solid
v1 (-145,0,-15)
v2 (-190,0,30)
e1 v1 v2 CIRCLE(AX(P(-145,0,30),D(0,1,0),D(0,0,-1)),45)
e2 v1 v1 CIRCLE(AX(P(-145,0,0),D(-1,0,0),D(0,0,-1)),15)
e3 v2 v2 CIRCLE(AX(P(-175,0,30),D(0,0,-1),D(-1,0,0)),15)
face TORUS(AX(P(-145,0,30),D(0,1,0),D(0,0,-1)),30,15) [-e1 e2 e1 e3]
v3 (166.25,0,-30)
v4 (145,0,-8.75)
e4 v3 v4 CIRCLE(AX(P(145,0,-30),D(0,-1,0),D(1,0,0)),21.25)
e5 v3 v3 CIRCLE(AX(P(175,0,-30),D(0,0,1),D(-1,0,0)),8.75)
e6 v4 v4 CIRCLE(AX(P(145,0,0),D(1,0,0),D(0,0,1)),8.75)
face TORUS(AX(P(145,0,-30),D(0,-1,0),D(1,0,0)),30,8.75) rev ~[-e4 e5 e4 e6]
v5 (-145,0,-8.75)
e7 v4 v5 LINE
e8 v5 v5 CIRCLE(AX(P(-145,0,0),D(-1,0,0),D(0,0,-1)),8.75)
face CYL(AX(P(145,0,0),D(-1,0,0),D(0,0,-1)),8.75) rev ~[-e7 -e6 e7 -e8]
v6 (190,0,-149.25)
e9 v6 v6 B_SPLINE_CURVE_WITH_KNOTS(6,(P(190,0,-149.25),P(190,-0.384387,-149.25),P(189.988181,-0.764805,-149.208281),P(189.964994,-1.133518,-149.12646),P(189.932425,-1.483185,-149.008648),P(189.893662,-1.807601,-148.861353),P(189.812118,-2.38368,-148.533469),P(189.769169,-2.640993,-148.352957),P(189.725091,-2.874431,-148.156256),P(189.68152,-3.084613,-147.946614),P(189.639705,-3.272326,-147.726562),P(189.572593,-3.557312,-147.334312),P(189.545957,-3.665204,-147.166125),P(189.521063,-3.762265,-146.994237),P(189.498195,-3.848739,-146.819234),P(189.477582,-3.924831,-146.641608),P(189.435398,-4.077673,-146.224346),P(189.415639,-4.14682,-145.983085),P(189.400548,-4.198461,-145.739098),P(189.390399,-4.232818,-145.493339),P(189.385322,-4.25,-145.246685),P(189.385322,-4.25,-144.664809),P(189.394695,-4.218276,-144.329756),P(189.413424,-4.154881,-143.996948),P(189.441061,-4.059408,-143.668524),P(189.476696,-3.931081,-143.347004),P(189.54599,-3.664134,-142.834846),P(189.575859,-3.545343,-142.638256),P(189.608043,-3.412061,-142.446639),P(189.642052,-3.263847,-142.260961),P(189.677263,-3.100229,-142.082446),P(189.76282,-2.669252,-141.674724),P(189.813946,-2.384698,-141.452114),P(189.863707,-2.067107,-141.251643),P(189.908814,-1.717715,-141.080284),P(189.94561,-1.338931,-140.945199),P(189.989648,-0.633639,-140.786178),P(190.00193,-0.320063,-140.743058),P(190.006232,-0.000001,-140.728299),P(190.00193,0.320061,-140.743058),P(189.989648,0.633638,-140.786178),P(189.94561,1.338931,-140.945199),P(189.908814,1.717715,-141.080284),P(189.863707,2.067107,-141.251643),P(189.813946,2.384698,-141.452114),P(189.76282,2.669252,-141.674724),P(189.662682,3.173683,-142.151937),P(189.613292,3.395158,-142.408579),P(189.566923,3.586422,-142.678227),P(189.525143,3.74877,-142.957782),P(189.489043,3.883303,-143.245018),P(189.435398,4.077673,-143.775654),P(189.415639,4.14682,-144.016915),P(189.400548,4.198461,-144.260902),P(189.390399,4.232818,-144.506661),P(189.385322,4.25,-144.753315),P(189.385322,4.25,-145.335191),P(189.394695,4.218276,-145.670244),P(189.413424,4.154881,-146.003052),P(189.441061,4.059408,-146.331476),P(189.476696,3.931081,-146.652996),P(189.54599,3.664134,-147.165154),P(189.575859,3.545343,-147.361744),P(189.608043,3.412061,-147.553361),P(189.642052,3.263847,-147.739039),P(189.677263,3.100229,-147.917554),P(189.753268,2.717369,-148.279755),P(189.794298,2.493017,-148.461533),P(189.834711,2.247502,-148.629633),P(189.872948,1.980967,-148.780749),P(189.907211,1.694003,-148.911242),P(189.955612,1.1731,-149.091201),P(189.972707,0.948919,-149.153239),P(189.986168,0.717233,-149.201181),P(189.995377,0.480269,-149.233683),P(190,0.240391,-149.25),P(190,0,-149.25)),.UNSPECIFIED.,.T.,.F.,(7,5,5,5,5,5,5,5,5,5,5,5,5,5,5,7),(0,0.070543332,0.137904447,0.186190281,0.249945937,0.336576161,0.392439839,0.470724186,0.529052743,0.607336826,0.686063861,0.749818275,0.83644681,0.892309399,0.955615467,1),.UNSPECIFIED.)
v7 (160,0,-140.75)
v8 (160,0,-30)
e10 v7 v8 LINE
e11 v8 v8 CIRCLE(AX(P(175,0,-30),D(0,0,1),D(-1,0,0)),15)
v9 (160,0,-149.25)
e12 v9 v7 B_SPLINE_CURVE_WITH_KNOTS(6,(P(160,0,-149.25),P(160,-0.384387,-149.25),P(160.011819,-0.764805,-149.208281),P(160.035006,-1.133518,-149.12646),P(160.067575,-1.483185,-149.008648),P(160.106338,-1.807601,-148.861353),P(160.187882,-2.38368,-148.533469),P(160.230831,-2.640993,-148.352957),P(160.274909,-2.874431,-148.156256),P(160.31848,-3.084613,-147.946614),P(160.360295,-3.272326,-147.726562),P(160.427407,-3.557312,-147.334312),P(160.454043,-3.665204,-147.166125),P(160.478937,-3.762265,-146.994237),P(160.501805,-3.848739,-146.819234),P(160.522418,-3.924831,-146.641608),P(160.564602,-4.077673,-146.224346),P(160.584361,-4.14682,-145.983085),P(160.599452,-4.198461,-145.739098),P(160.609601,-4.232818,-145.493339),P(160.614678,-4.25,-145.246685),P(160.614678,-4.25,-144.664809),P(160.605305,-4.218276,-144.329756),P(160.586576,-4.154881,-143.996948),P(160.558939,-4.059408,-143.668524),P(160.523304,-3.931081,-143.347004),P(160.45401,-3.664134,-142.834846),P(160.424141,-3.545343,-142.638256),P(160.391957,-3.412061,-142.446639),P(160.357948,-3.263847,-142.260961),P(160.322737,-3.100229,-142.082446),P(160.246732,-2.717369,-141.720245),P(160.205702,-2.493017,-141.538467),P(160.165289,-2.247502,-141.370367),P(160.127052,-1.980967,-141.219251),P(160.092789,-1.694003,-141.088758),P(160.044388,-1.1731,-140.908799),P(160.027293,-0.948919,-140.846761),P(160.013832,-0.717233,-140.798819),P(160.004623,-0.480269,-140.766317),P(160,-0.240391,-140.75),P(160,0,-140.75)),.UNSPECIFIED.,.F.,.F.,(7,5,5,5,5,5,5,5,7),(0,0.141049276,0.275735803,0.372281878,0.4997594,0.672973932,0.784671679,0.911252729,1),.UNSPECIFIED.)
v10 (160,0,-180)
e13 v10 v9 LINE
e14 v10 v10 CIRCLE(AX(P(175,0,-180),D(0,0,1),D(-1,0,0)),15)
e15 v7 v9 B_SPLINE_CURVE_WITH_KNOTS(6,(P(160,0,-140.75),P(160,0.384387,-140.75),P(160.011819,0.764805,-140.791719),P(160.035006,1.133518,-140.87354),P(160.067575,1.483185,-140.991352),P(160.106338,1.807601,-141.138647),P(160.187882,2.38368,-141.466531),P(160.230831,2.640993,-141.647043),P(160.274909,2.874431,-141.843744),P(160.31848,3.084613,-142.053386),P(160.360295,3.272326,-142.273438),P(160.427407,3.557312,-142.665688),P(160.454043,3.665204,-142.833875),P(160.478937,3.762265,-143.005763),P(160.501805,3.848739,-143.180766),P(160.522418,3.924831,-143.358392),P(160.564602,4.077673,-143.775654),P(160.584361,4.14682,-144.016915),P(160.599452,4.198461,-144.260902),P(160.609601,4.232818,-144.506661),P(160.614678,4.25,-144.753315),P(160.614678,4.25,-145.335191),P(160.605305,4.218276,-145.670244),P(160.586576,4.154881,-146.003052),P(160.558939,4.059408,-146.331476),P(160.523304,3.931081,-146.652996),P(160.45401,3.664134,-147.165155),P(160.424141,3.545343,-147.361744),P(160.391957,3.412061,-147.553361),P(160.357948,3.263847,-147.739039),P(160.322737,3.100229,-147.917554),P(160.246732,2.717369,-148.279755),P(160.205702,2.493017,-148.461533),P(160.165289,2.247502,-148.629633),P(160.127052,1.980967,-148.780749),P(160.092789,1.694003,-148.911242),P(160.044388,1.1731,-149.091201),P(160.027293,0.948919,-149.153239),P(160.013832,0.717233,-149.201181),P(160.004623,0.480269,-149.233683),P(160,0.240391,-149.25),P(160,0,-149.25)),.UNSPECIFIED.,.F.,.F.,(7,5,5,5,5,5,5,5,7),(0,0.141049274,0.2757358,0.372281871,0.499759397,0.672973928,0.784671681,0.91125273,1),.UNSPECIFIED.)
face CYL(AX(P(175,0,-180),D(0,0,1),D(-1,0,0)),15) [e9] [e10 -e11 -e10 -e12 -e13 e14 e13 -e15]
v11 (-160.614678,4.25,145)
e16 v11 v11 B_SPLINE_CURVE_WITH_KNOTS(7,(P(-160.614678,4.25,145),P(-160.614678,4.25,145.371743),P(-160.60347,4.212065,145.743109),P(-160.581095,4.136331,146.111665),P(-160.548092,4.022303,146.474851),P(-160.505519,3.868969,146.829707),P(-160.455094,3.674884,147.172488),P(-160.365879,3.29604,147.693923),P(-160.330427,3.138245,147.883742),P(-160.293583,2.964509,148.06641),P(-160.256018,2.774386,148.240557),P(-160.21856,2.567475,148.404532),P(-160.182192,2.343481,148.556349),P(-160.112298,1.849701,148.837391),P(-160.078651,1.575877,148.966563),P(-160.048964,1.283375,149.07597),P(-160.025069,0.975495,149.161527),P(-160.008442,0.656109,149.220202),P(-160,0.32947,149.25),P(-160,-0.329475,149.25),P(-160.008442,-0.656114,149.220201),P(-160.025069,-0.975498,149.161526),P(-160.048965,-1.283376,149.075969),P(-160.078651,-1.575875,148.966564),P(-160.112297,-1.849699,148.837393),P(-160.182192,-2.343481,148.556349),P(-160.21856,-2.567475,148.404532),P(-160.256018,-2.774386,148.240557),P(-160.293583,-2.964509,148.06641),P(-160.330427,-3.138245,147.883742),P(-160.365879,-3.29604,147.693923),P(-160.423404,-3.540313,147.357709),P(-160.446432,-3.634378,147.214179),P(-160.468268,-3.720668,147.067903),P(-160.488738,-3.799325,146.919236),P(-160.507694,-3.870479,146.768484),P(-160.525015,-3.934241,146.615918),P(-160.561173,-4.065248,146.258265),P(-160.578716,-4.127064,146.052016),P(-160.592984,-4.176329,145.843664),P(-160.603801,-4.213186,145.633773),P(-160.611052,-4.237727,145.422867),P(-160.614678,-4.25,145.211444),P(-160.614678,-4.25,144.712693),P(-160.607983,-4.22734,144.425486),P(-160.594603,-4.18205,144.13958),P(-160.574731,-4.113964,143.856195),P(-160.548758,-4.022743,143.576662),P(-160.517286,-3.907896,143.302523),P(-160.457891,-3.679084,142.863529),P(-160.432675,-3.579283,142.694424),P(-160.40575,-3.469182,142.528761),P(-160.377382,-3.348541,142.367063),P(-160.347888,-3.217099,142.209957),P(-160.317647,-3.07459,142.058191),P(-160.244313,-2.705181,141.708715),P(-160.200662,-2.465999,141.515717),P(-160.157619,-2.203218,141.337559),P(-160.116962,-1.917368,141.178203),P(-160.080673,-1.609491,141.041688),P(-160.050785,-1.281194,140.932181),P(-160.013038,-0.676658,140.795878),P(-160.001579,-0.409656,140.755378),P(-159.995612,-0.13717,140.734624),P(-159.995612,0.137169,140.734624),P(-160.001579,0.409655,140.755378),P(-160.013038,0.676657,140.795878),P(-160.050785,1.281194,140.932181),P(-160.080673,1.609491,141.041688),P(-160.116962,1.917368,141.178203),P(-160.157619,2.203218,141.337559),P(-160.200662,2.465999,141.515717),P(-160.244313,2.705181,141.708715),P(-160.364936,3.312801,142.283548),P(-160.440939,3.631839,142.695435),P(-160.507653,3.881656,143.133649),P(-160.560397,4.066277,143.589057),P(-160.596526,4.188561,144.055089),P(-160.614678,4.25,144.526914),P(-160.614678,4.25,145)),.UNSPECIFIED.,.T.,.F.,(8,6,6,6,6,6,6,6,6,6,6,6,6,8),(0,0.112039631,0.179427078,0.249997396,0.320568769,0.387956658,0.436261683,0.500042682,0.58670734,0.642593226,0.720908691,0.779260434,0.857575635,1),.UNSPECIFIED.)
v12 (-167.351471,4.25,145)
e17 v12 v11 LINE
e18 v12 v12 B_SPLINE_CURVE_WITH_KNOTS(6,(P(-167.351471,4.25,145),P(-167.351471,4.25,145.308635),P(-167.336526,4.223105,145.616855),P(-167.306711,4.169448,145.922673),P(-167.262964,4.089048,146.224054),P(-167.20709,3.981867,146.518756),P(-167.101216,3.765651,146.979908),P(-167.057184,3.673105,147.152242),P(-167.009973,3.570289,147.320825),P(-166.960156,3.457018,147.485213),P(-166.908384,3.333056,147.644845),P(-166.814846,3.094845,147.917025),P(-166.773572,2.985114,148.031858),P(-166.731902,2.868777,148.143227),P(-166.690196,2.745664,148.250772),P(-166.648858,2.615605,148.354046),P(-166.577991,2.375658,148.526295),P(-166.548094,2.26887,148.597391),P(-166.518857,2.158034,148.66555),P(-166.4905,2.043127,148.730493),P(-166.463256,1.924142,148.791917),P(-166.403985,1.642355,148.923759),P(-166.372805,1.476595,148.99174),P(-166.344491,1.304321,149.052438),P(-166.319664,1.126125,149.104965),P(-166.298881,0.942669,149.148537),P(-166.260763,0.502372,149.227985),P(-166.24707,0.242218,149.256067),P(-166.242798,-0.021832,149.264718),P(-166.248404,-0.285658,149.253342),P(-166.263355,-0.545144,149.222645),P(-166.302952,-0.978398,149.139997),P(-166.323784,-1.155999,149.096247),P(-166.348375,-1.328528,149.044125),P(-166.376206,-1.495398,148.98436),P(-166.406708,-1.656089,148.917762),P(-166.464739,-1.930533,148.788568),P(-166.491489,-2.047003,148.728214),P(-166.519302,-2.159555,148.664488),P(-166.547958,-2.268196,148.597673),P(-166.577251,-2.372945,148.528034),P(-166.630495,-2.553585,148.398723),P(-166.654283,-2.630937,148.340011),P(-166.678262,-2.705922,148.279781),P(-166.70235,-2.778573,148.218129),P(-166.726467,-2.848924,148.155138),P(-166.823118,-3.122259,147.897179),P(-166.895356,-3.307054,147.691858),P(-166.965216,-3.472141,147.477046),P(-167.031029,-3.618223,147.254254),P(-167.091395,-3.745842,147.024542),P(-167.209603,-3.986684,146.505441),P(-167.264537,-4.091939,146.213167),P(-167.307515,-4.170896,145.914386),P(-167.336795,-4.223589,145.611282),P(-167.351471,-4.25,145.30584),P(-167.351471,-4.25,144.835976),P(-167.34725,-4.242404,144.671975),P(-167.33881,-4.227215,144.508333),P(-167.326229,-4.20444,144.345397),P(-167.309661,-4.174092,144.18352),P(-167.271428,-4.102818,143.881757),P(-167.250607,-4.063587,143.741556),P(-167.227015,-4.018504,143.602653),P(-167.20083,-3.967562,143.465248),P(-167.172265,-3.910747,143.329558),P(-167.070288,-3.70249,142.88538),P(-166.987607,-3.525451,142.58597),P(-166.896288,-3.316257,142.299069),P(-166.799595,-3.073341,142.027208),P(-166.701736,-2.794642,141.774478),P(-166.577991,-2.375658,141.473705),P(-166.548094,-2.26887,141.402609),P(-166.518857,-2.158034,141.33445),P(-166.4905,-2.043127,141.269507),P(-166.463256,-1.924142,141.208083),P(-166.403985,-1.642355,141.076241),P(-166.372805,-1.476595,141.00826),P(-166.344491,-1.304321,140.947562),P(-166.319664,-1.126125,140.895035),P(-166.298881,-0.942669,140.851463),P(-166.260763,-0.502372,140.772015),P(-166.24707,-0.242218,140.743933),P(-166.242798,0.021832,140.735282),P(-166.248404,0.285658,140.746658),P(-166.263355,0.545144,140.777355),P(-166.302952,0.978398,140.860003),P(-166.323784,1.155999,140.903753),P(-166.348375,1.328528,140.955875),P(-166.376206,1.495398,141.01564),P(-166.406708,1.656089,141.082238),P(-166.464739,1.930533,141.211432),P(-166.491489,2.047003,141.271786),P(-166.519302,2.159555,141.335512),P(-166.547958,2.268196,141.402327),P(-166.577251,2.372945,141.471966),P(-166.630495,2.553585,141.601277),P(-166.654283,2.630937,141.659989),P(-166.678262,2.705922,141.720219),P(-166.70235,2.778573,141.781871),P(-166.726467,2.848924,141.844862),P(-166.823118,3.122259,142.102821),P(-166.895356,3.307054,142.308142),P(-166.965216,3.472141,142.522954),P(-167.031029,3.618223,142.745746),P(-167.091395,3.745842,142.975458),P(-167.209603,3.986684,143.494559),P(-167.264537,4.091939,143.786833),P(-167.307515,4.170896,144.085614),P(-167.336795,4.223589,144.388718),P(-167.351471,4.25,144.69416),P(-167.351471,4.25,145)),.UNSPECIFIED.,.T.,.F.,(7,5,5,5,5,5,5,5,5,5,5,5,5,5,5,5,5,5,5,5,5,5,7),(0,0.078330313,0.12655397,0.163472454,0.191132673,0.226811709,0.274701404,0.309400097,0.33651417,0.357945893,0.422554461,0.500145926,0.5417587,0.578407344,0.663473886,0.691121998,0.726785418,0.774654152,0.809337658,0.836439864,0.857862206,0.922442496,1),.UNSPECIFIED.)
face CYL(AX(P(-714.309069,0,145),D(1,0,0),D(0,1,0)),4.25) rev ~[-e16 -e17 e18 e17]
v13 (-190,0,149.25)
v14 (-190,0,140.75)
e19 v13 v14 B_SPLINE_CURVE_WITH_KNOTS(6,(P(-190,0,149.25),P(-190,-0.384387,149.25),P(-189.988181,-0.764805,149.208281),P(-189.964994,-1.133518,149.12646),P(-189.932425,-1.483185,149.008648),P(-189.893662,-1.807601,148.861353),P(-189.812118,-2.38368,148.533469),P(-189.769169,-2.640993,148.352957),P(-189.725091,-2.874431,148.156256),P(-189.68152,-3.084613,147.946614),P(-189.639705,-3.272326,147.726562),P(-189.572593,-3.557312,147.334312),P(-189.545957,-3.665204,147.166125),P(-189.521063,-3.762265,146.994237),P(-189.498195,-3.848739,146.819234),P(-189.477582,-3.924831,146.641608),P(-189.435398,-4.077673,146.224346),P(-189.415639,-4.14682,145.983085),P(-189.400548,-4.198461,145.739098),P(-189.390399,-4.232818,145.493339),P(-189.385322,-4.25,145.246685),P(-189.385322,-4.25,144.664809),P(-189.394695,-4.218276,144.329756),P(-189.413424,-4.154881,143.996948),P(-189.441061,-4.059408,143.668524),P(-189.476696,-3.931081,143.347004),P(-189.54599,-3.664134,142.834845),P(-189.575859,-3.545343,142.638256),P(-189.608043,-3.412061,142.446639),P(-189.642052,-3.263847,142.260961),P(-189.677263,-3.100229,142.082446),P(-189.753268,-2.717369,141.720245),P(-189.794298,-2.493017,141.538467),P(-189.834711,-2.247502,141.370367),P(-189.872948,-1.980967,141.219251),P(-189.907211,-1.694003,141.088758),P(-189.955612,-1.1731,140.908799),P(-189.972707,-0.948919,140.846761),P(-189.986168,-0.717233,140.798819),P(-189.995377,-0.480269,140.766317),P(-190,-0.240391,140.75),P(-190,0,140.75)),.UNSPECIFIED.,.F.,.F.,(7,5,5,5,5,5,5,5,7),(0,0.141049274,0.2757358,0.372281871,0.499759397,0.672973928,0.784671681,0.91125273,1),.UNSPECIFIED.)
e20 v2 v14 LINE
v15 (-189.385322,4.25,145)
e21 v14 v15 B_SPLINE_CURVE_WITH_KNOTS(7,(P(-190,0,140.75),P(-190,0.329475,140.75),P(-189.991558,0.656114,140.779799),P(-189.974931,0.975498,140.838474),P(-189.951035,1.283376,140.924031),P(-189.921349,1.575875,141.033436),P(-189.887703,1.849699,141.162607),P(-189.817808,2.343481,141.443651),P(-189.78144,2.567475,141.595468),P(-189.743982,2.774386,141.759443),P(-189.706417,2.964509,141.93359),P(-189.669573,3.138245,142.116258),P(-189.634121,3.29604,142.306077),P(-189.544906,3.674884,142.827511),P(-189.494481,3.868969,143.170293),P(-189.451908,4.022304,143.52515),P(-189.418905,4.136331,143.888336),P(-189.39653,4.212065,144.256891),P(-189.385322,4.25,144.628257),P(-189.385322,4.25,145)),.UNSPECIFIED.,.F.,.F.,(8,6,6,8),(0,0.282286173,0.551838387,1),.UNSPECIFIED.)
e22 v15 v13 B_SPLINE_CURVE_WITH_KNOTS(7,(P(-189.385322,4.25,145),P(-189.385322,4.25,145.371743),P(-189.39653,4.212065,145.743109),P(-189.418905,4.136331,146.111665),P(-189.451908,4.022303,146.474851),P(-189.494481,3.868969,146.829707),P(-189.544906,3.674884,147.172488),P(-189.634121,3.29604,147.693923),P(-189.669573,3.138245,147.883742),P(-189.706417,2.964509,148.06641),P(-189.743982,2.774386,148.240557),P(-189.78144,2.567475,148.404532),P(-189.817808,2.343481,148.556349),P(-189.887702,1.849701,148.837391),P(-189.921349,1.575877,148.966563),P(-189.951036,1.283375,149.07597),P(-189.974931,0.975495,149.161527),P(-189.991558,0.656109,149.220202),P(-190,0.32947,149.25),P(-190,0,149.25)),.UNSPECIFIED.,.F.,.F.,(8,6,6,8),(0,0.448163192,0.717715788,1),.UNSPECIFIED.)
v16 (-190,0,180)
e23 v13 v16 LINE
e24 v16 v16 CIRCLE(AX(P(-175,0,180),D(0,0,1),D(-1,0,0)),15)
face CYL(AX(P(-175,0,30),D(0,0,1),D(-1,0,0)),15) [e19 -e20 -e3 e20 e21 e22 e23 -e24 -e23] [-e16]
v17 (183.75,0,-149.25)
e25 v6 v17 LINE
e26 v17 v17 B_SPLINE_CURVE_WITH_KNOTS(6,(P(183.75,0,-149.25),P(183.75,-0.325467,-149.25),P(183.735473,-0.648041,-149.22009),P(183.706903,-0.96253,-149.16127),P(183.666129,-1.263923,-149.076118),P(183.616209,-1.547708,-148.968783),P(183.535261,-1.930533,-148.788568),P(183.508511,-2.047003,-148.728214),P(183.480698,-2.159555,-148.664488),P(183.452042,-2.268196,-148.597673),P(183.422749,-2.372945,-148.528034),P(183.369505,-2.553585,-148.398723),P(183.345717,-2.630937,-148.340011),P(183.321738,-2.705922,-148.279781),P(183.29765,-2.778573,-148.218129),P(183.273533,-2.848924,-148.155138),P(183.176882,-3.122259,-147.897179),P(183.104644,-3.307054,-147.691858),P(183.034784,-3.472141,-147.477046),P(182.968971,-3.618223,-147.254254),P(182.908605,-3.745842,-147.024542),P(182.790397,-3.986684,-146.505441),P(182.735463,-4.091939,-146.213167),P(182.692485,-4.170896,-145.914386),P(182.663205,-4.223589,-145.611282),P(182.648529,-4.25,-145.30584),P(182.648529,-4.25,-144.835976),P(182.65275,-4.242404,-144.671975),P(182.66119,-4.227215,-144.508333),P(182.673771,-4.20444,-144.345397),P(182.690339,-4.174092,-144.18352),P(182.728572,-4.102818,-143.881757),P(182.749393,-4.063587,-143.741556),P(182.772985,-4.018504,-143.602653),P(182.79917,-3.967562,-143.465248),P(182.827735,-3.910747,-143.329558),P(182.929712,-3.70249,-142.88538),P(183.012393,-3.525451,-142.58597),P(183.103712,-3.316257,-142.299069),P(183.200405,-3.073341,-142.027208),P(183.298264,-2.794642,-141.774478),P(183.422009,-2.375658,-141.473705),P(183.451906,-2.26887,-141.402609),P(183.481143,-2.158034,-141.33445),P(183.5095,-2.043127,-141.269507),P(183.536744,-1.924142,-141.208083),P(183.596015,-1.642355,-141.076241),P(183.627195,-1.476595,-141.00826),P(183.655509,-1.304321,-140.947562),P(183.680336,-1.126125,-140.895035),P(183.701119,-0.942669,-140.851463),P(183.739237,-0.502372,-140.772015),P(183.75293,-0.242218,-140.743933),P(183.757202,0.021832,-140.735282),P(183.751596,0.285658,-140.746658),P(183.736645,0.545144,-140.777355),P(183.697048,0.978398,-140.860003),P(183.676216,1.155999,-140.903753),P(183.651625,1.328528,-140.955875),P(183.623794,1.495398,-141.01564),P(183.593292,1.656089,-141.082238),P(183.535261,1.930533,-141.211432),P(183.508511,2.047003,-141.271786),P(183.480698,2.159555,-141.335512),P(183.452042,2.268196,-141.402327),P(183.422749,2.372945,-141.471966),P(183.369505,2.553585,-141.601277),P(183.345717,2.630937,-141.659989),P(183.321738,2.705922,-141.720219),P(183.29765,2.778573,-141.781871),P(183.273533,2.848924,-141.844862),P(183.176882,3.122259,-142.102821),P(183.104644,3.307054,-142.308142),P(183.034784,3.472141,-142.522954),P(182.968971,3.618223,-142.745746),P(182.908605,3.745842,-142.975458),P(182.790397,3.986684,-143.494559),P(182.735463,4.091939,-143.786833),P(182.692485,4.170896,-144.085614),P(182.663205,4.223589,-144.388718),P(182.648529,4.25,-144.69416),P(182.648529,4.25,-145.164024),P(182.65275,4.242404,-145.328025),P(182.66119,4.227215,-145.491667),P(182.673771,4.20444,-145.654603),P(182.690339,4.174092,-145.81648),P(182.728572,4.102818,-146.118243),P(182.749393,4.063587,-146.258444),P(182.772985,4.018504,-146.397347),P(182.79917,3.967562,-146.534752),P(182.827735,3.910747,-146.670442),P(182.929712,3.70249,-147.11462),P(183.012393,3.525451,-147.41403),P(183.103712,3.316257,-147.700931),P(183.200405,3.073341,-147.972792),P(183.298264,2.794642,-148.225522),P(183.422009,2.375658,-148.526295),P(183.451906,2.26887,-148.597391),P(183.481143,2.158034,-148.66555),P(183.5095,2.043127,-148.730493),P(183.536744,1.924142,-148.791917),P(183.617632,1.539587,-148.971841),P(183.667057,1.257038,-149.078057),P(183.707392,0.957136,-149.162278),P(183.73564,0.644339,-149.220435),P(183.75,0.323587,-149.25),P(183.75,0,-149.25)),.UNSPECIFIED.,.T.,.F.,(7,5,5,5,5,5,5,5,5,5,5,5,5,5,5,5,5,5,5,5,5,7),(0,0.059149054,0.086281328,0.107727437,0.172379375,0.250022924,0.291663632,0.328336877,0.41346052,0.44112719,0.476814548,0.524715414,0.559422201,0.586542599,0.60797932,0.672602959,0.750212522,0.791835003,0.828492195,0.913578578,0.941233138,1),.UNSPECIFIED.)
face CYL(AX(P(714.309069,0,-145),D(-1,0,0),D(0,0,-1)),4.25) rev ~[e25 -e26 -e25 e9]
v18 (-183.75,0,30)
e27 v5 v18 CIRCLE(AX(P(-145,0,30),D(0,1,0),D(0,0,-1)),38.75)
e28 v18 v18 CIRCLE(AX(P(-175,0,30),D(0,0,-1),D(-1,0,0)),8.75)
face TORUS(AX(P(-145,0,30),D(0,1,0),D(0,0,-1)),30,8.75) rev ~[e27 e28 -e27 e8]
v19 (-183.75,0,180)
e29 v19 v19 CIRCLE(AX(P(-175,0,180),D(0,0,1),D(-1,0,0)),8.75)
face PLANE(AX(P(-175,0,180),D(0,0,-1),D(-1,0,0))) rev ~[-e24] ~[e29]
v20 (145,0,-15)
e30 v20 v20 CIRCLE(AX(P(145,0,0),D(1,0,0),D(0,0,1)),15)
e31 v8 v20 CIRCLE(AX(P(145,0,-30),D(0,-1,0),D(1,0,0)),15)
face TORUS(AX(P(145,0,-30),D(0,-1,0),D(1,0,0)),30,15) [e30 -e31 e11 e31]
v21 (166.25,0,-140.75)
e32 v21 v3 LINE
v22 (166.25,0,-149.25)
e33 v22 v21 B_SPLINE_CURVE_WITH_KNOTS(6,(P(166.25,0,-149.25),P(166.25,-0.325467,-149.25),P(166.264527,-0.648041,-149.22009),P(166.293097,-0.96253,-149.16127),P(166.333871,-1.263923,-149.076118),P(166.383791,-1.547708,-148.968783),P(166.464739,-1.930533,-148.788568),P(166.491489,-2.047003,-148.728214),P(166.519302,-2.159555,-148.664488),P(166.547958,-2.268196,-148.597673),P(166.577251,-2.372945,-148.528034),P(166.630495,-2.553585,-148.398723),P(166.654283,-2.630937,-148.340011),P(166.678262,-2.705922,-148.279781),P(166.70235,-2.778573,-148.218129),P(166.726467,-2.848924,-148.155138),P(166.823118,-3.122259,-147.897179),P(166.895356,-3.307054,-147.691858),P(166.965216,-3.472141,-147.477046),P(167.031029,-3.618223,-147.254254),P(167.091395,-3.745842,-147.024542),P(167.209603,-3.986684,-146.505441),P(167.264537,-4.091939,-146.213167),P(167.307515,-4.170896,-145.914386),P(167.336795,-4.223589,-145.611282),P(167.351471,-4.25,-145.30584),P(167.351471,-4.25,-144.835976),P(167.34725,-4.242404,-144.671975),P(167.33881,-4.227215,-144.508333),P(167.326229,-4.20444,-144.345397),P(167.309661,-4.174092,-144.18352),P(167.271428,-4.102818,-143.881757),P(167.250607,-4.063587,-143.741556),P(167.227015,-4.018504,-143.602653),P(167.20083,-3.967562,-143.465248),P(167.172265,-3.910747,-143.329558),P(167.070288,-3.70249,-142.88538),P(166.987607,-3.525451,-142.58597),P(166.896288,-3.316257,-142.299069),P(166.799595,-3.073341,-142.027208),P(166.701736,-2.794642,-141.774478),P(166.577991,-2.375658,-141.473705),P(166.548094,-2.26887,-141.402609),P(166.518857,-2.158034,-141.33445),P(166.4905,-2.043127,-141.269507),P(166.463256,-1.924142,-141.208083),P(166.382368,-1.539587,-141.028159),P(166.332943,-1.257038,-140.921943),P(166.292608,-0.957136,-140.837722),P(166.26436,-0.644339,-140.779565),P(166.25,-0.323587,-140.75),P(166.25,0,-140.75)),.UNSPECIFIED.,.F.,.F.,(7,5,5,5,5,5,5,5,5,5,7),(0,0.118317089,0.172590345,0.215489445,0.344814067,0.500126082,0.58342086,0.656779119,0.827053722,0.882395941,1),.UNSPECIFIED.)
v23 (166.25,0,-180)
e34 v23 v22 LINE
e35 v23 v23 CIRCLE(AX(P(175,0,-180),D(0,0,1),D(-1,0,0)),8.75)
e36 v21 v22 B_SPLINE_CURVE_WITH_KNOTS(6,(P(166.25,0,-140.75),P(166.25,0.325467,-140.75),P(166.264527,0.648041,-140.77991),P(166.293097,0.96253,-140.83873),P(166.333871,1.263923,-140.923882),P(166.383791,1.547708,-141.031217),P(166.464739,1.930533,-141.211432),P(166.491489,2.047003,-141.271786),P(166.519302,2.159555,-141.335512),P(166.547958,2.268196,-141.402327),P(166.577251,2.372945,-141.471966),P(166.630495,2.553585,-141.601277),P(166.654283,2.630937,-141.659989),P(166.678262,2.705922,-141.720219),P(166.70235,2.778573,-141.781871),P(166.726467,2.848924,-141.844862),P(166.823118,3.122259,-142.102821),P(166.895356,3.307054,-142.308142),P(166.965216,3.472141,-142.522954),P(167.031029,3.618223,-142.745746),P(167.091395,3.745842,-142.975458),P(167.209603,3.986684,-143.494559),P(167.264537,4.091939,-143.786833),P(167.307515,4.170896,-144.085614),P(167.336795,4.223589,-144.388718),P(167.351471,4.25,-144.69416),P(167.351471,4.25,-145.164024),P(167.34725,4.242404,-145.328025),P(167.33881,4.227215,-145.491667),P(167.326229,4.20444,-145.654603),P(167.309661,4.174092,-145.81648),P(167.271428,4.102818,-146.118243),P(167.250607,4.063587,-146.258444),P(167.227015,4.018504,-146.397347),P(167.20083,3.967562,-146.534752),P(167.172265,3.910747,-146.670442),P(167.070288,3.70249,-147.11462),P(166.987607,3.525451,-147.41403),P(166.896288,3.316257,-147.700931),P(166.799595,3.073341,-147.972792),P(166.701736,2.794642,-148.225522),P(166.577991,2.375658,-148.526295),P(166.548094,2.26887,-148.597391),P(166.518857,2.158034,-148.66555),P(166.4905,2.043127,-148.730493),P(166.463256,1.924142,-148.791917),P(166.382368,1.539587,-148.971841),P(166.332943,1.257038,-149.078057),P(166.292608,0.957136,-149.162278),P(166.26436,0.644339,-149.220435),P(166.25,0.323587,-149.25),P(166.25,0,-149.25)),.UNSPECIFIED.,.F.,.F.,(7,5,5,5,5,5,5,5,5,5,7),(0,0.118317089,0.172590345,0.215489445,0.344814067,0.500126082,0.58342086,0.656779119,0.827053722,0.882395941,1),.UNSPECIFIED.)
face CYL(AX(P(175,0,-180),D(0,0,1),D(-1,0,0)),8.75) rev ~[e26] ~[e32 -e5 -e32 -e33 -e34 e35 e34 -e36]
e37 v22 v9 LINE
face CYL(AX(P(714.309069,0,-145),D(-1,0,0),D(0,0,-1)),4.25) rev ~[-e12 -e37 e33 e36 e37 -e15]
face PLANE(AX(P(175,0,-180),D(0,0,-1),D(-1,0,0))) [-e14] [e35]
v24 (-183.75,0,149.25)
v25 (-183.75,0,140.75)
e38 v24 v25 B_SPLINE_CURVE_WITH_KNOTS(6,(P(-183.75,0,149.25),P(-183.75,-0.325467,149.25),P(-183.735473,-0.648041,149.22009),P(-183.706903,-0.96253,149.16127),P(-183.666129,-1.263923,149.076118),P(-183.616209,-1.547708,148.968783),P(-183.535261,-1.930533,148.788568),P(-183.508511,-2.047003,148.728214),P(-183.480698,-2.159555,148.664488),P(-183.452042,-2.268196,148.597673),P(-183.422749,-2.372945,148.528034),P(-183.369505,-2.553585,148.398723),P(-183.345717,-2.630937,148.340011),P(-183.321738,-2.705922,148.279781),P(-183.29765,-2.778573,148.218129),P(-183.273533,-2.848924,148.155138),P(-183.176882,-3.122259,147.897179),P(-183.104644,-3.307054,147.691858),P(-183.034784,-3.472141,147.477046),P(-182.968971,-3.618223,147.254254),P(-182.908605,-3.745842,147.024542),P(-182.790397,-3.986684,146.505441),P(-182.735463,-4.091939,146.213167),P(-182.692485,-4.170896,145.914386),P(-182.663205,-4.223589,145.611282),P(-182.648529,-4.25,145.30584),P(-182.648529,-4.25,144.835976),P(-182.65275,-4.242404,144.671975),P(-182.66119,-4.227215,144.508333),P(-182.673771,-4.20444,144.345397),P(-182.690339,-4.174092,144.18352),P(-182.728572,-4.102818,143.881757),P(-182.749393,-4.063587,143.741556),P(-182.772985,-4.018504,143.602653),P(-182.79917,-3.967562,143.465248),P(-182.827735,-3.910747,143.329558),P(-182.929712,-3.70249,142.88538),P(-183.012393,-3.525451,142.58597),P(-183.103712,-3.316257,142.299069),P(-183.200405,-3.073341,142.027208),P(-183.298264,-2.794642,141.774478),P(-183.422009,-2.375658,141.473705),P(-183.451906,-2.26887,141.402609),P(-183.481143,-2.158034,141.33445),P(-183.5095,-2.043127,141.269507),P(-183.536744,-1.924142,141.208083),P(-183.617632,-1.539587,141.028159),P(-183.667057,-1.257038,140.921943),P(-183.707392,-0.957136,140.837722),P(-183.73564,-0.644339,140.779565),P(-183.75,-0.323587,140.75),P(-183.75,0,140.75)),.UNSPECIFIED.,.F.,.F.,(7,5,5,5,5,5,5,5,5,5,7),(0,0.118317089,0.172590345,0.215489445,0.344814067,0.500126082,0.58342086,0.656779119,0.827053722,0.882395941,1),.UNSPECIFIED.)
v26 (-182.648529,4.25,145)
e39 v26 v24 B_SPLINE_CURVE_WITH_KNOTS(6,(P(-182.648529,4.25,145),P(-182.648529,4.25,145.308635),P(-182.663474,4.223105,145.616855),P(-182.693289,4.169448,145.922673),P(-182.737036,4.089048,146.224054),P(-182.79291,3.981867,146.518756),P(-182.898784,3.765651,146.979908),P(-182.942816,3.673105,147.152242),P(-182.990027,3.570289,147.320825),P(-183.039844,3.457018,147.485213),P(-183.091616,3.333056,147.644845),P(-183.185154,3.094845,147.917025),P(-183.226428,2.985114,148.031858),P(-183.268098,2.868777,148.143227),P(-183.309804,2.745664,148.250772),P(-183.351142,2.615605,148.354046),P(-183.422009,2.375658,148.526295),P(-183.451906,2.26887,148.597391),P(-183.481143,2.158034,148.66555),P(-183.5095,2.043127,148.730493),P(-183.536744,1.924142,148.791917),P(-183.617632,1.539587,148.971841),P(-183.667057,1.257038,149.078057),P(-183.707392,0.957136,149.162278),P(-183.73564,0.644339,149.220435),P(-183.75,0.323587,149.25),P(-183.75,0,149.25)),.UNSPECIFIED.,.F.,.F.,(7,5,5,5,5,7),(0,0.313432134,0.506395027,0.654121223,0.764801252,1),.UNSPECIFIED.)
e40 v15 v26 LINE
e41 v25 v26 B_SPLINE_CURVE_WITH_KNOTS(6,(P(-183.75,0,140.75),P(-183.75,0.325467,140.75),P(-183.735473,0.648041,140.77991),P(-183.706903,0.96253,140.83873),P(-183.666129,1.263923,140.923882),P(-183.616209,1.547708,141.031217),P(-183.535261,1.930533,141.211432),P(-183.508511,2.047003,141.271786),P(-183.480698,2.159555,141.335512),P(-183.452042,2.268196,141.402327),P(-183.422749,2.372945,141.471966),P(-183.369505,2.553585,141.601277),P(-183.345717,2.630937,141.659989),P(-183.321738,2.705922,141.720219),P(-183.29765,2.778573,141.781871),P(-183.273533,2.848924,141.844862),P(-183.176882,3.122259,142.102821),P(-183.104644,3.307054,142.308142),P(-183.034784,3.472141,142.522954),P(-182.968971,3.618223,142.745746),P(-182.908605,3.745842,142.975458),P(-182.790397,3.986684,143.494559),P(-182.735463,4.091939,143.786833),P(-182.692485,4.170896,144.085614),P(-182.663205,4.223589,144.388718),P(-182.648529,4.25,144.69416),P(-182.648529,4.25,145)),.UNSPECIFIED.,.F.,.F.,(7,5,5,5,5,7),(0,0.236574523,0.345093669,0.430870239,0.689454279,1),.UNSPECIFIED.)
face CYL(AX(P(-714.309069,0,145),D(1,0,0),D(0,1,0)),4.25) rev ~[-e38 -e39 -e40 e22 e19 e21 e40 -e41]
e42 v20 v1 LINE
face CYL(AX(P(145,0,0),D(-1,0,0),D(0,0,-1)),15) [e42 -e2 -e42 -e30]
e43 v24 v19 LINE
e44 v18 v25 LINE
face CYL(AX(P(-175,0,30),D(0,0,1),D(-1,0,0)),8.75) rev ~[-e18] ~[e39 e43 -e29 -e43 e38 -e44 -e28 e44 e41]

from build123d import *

# Parameters (mm, degrees)
SKETCH2_R          = 15
SKETCH2_R_2        = 8.75
M10_TAPPED_HOLE1_D = 8.5
M10_TAPPED_HOLE2_D = 8.5


with BuildPart() as part:
    # Sweep1: sweep along a path in Sketch1
    with BuildLine(Plane(origin=(0, 0, 0), x_dir=(1, 0, 0), z_dir=(0, 1, 0))) as sweep1_path:
        Line((175, 180), (175, 30))
        ThreePointArc((175, 30), (166.213203436, 8.786796564), (145, 0))
        Line((145, 0), (-145, 0))
        ThreePointArc((-145, 0), (-166.213203436, -8.786796564), (-175, -30))
        Line((-175, -30), (-175, -180))
    # Sketch2 → Sweep1 (sweep)
    with BuildSketch(Plane(origin=(0, 0, 0), x_dir=(0, 0, -1), z_dir=(1, 0, 0))):
        Circle(SKETCH2_R)
        Circle(SKETCH2_R_2, mode=Mode.SUBTRACT)
    sweep(path=sweep1_path.line)

    # M10 Tapped Hole1 (through all)
    with Locations(Plane(origin=(-190, 0, 145), x_dir=(0, -1, 0), z_dir=(-1, 0, 0))):
        with Locations((0, 0)):
            Hole(M10_TAPPED_HOLE1_D / 2)

    # M10 Tapped Hole2 (through all)
    with Locations(Plane(origin=(190, 0, -145), x_dir=(0, 0, 1), z_dir=(1, 0, 0))):
        with Locations((0, 0)):
            Hole(M10_TAPPED_HOLE2_D / 2)


solid = part.part
